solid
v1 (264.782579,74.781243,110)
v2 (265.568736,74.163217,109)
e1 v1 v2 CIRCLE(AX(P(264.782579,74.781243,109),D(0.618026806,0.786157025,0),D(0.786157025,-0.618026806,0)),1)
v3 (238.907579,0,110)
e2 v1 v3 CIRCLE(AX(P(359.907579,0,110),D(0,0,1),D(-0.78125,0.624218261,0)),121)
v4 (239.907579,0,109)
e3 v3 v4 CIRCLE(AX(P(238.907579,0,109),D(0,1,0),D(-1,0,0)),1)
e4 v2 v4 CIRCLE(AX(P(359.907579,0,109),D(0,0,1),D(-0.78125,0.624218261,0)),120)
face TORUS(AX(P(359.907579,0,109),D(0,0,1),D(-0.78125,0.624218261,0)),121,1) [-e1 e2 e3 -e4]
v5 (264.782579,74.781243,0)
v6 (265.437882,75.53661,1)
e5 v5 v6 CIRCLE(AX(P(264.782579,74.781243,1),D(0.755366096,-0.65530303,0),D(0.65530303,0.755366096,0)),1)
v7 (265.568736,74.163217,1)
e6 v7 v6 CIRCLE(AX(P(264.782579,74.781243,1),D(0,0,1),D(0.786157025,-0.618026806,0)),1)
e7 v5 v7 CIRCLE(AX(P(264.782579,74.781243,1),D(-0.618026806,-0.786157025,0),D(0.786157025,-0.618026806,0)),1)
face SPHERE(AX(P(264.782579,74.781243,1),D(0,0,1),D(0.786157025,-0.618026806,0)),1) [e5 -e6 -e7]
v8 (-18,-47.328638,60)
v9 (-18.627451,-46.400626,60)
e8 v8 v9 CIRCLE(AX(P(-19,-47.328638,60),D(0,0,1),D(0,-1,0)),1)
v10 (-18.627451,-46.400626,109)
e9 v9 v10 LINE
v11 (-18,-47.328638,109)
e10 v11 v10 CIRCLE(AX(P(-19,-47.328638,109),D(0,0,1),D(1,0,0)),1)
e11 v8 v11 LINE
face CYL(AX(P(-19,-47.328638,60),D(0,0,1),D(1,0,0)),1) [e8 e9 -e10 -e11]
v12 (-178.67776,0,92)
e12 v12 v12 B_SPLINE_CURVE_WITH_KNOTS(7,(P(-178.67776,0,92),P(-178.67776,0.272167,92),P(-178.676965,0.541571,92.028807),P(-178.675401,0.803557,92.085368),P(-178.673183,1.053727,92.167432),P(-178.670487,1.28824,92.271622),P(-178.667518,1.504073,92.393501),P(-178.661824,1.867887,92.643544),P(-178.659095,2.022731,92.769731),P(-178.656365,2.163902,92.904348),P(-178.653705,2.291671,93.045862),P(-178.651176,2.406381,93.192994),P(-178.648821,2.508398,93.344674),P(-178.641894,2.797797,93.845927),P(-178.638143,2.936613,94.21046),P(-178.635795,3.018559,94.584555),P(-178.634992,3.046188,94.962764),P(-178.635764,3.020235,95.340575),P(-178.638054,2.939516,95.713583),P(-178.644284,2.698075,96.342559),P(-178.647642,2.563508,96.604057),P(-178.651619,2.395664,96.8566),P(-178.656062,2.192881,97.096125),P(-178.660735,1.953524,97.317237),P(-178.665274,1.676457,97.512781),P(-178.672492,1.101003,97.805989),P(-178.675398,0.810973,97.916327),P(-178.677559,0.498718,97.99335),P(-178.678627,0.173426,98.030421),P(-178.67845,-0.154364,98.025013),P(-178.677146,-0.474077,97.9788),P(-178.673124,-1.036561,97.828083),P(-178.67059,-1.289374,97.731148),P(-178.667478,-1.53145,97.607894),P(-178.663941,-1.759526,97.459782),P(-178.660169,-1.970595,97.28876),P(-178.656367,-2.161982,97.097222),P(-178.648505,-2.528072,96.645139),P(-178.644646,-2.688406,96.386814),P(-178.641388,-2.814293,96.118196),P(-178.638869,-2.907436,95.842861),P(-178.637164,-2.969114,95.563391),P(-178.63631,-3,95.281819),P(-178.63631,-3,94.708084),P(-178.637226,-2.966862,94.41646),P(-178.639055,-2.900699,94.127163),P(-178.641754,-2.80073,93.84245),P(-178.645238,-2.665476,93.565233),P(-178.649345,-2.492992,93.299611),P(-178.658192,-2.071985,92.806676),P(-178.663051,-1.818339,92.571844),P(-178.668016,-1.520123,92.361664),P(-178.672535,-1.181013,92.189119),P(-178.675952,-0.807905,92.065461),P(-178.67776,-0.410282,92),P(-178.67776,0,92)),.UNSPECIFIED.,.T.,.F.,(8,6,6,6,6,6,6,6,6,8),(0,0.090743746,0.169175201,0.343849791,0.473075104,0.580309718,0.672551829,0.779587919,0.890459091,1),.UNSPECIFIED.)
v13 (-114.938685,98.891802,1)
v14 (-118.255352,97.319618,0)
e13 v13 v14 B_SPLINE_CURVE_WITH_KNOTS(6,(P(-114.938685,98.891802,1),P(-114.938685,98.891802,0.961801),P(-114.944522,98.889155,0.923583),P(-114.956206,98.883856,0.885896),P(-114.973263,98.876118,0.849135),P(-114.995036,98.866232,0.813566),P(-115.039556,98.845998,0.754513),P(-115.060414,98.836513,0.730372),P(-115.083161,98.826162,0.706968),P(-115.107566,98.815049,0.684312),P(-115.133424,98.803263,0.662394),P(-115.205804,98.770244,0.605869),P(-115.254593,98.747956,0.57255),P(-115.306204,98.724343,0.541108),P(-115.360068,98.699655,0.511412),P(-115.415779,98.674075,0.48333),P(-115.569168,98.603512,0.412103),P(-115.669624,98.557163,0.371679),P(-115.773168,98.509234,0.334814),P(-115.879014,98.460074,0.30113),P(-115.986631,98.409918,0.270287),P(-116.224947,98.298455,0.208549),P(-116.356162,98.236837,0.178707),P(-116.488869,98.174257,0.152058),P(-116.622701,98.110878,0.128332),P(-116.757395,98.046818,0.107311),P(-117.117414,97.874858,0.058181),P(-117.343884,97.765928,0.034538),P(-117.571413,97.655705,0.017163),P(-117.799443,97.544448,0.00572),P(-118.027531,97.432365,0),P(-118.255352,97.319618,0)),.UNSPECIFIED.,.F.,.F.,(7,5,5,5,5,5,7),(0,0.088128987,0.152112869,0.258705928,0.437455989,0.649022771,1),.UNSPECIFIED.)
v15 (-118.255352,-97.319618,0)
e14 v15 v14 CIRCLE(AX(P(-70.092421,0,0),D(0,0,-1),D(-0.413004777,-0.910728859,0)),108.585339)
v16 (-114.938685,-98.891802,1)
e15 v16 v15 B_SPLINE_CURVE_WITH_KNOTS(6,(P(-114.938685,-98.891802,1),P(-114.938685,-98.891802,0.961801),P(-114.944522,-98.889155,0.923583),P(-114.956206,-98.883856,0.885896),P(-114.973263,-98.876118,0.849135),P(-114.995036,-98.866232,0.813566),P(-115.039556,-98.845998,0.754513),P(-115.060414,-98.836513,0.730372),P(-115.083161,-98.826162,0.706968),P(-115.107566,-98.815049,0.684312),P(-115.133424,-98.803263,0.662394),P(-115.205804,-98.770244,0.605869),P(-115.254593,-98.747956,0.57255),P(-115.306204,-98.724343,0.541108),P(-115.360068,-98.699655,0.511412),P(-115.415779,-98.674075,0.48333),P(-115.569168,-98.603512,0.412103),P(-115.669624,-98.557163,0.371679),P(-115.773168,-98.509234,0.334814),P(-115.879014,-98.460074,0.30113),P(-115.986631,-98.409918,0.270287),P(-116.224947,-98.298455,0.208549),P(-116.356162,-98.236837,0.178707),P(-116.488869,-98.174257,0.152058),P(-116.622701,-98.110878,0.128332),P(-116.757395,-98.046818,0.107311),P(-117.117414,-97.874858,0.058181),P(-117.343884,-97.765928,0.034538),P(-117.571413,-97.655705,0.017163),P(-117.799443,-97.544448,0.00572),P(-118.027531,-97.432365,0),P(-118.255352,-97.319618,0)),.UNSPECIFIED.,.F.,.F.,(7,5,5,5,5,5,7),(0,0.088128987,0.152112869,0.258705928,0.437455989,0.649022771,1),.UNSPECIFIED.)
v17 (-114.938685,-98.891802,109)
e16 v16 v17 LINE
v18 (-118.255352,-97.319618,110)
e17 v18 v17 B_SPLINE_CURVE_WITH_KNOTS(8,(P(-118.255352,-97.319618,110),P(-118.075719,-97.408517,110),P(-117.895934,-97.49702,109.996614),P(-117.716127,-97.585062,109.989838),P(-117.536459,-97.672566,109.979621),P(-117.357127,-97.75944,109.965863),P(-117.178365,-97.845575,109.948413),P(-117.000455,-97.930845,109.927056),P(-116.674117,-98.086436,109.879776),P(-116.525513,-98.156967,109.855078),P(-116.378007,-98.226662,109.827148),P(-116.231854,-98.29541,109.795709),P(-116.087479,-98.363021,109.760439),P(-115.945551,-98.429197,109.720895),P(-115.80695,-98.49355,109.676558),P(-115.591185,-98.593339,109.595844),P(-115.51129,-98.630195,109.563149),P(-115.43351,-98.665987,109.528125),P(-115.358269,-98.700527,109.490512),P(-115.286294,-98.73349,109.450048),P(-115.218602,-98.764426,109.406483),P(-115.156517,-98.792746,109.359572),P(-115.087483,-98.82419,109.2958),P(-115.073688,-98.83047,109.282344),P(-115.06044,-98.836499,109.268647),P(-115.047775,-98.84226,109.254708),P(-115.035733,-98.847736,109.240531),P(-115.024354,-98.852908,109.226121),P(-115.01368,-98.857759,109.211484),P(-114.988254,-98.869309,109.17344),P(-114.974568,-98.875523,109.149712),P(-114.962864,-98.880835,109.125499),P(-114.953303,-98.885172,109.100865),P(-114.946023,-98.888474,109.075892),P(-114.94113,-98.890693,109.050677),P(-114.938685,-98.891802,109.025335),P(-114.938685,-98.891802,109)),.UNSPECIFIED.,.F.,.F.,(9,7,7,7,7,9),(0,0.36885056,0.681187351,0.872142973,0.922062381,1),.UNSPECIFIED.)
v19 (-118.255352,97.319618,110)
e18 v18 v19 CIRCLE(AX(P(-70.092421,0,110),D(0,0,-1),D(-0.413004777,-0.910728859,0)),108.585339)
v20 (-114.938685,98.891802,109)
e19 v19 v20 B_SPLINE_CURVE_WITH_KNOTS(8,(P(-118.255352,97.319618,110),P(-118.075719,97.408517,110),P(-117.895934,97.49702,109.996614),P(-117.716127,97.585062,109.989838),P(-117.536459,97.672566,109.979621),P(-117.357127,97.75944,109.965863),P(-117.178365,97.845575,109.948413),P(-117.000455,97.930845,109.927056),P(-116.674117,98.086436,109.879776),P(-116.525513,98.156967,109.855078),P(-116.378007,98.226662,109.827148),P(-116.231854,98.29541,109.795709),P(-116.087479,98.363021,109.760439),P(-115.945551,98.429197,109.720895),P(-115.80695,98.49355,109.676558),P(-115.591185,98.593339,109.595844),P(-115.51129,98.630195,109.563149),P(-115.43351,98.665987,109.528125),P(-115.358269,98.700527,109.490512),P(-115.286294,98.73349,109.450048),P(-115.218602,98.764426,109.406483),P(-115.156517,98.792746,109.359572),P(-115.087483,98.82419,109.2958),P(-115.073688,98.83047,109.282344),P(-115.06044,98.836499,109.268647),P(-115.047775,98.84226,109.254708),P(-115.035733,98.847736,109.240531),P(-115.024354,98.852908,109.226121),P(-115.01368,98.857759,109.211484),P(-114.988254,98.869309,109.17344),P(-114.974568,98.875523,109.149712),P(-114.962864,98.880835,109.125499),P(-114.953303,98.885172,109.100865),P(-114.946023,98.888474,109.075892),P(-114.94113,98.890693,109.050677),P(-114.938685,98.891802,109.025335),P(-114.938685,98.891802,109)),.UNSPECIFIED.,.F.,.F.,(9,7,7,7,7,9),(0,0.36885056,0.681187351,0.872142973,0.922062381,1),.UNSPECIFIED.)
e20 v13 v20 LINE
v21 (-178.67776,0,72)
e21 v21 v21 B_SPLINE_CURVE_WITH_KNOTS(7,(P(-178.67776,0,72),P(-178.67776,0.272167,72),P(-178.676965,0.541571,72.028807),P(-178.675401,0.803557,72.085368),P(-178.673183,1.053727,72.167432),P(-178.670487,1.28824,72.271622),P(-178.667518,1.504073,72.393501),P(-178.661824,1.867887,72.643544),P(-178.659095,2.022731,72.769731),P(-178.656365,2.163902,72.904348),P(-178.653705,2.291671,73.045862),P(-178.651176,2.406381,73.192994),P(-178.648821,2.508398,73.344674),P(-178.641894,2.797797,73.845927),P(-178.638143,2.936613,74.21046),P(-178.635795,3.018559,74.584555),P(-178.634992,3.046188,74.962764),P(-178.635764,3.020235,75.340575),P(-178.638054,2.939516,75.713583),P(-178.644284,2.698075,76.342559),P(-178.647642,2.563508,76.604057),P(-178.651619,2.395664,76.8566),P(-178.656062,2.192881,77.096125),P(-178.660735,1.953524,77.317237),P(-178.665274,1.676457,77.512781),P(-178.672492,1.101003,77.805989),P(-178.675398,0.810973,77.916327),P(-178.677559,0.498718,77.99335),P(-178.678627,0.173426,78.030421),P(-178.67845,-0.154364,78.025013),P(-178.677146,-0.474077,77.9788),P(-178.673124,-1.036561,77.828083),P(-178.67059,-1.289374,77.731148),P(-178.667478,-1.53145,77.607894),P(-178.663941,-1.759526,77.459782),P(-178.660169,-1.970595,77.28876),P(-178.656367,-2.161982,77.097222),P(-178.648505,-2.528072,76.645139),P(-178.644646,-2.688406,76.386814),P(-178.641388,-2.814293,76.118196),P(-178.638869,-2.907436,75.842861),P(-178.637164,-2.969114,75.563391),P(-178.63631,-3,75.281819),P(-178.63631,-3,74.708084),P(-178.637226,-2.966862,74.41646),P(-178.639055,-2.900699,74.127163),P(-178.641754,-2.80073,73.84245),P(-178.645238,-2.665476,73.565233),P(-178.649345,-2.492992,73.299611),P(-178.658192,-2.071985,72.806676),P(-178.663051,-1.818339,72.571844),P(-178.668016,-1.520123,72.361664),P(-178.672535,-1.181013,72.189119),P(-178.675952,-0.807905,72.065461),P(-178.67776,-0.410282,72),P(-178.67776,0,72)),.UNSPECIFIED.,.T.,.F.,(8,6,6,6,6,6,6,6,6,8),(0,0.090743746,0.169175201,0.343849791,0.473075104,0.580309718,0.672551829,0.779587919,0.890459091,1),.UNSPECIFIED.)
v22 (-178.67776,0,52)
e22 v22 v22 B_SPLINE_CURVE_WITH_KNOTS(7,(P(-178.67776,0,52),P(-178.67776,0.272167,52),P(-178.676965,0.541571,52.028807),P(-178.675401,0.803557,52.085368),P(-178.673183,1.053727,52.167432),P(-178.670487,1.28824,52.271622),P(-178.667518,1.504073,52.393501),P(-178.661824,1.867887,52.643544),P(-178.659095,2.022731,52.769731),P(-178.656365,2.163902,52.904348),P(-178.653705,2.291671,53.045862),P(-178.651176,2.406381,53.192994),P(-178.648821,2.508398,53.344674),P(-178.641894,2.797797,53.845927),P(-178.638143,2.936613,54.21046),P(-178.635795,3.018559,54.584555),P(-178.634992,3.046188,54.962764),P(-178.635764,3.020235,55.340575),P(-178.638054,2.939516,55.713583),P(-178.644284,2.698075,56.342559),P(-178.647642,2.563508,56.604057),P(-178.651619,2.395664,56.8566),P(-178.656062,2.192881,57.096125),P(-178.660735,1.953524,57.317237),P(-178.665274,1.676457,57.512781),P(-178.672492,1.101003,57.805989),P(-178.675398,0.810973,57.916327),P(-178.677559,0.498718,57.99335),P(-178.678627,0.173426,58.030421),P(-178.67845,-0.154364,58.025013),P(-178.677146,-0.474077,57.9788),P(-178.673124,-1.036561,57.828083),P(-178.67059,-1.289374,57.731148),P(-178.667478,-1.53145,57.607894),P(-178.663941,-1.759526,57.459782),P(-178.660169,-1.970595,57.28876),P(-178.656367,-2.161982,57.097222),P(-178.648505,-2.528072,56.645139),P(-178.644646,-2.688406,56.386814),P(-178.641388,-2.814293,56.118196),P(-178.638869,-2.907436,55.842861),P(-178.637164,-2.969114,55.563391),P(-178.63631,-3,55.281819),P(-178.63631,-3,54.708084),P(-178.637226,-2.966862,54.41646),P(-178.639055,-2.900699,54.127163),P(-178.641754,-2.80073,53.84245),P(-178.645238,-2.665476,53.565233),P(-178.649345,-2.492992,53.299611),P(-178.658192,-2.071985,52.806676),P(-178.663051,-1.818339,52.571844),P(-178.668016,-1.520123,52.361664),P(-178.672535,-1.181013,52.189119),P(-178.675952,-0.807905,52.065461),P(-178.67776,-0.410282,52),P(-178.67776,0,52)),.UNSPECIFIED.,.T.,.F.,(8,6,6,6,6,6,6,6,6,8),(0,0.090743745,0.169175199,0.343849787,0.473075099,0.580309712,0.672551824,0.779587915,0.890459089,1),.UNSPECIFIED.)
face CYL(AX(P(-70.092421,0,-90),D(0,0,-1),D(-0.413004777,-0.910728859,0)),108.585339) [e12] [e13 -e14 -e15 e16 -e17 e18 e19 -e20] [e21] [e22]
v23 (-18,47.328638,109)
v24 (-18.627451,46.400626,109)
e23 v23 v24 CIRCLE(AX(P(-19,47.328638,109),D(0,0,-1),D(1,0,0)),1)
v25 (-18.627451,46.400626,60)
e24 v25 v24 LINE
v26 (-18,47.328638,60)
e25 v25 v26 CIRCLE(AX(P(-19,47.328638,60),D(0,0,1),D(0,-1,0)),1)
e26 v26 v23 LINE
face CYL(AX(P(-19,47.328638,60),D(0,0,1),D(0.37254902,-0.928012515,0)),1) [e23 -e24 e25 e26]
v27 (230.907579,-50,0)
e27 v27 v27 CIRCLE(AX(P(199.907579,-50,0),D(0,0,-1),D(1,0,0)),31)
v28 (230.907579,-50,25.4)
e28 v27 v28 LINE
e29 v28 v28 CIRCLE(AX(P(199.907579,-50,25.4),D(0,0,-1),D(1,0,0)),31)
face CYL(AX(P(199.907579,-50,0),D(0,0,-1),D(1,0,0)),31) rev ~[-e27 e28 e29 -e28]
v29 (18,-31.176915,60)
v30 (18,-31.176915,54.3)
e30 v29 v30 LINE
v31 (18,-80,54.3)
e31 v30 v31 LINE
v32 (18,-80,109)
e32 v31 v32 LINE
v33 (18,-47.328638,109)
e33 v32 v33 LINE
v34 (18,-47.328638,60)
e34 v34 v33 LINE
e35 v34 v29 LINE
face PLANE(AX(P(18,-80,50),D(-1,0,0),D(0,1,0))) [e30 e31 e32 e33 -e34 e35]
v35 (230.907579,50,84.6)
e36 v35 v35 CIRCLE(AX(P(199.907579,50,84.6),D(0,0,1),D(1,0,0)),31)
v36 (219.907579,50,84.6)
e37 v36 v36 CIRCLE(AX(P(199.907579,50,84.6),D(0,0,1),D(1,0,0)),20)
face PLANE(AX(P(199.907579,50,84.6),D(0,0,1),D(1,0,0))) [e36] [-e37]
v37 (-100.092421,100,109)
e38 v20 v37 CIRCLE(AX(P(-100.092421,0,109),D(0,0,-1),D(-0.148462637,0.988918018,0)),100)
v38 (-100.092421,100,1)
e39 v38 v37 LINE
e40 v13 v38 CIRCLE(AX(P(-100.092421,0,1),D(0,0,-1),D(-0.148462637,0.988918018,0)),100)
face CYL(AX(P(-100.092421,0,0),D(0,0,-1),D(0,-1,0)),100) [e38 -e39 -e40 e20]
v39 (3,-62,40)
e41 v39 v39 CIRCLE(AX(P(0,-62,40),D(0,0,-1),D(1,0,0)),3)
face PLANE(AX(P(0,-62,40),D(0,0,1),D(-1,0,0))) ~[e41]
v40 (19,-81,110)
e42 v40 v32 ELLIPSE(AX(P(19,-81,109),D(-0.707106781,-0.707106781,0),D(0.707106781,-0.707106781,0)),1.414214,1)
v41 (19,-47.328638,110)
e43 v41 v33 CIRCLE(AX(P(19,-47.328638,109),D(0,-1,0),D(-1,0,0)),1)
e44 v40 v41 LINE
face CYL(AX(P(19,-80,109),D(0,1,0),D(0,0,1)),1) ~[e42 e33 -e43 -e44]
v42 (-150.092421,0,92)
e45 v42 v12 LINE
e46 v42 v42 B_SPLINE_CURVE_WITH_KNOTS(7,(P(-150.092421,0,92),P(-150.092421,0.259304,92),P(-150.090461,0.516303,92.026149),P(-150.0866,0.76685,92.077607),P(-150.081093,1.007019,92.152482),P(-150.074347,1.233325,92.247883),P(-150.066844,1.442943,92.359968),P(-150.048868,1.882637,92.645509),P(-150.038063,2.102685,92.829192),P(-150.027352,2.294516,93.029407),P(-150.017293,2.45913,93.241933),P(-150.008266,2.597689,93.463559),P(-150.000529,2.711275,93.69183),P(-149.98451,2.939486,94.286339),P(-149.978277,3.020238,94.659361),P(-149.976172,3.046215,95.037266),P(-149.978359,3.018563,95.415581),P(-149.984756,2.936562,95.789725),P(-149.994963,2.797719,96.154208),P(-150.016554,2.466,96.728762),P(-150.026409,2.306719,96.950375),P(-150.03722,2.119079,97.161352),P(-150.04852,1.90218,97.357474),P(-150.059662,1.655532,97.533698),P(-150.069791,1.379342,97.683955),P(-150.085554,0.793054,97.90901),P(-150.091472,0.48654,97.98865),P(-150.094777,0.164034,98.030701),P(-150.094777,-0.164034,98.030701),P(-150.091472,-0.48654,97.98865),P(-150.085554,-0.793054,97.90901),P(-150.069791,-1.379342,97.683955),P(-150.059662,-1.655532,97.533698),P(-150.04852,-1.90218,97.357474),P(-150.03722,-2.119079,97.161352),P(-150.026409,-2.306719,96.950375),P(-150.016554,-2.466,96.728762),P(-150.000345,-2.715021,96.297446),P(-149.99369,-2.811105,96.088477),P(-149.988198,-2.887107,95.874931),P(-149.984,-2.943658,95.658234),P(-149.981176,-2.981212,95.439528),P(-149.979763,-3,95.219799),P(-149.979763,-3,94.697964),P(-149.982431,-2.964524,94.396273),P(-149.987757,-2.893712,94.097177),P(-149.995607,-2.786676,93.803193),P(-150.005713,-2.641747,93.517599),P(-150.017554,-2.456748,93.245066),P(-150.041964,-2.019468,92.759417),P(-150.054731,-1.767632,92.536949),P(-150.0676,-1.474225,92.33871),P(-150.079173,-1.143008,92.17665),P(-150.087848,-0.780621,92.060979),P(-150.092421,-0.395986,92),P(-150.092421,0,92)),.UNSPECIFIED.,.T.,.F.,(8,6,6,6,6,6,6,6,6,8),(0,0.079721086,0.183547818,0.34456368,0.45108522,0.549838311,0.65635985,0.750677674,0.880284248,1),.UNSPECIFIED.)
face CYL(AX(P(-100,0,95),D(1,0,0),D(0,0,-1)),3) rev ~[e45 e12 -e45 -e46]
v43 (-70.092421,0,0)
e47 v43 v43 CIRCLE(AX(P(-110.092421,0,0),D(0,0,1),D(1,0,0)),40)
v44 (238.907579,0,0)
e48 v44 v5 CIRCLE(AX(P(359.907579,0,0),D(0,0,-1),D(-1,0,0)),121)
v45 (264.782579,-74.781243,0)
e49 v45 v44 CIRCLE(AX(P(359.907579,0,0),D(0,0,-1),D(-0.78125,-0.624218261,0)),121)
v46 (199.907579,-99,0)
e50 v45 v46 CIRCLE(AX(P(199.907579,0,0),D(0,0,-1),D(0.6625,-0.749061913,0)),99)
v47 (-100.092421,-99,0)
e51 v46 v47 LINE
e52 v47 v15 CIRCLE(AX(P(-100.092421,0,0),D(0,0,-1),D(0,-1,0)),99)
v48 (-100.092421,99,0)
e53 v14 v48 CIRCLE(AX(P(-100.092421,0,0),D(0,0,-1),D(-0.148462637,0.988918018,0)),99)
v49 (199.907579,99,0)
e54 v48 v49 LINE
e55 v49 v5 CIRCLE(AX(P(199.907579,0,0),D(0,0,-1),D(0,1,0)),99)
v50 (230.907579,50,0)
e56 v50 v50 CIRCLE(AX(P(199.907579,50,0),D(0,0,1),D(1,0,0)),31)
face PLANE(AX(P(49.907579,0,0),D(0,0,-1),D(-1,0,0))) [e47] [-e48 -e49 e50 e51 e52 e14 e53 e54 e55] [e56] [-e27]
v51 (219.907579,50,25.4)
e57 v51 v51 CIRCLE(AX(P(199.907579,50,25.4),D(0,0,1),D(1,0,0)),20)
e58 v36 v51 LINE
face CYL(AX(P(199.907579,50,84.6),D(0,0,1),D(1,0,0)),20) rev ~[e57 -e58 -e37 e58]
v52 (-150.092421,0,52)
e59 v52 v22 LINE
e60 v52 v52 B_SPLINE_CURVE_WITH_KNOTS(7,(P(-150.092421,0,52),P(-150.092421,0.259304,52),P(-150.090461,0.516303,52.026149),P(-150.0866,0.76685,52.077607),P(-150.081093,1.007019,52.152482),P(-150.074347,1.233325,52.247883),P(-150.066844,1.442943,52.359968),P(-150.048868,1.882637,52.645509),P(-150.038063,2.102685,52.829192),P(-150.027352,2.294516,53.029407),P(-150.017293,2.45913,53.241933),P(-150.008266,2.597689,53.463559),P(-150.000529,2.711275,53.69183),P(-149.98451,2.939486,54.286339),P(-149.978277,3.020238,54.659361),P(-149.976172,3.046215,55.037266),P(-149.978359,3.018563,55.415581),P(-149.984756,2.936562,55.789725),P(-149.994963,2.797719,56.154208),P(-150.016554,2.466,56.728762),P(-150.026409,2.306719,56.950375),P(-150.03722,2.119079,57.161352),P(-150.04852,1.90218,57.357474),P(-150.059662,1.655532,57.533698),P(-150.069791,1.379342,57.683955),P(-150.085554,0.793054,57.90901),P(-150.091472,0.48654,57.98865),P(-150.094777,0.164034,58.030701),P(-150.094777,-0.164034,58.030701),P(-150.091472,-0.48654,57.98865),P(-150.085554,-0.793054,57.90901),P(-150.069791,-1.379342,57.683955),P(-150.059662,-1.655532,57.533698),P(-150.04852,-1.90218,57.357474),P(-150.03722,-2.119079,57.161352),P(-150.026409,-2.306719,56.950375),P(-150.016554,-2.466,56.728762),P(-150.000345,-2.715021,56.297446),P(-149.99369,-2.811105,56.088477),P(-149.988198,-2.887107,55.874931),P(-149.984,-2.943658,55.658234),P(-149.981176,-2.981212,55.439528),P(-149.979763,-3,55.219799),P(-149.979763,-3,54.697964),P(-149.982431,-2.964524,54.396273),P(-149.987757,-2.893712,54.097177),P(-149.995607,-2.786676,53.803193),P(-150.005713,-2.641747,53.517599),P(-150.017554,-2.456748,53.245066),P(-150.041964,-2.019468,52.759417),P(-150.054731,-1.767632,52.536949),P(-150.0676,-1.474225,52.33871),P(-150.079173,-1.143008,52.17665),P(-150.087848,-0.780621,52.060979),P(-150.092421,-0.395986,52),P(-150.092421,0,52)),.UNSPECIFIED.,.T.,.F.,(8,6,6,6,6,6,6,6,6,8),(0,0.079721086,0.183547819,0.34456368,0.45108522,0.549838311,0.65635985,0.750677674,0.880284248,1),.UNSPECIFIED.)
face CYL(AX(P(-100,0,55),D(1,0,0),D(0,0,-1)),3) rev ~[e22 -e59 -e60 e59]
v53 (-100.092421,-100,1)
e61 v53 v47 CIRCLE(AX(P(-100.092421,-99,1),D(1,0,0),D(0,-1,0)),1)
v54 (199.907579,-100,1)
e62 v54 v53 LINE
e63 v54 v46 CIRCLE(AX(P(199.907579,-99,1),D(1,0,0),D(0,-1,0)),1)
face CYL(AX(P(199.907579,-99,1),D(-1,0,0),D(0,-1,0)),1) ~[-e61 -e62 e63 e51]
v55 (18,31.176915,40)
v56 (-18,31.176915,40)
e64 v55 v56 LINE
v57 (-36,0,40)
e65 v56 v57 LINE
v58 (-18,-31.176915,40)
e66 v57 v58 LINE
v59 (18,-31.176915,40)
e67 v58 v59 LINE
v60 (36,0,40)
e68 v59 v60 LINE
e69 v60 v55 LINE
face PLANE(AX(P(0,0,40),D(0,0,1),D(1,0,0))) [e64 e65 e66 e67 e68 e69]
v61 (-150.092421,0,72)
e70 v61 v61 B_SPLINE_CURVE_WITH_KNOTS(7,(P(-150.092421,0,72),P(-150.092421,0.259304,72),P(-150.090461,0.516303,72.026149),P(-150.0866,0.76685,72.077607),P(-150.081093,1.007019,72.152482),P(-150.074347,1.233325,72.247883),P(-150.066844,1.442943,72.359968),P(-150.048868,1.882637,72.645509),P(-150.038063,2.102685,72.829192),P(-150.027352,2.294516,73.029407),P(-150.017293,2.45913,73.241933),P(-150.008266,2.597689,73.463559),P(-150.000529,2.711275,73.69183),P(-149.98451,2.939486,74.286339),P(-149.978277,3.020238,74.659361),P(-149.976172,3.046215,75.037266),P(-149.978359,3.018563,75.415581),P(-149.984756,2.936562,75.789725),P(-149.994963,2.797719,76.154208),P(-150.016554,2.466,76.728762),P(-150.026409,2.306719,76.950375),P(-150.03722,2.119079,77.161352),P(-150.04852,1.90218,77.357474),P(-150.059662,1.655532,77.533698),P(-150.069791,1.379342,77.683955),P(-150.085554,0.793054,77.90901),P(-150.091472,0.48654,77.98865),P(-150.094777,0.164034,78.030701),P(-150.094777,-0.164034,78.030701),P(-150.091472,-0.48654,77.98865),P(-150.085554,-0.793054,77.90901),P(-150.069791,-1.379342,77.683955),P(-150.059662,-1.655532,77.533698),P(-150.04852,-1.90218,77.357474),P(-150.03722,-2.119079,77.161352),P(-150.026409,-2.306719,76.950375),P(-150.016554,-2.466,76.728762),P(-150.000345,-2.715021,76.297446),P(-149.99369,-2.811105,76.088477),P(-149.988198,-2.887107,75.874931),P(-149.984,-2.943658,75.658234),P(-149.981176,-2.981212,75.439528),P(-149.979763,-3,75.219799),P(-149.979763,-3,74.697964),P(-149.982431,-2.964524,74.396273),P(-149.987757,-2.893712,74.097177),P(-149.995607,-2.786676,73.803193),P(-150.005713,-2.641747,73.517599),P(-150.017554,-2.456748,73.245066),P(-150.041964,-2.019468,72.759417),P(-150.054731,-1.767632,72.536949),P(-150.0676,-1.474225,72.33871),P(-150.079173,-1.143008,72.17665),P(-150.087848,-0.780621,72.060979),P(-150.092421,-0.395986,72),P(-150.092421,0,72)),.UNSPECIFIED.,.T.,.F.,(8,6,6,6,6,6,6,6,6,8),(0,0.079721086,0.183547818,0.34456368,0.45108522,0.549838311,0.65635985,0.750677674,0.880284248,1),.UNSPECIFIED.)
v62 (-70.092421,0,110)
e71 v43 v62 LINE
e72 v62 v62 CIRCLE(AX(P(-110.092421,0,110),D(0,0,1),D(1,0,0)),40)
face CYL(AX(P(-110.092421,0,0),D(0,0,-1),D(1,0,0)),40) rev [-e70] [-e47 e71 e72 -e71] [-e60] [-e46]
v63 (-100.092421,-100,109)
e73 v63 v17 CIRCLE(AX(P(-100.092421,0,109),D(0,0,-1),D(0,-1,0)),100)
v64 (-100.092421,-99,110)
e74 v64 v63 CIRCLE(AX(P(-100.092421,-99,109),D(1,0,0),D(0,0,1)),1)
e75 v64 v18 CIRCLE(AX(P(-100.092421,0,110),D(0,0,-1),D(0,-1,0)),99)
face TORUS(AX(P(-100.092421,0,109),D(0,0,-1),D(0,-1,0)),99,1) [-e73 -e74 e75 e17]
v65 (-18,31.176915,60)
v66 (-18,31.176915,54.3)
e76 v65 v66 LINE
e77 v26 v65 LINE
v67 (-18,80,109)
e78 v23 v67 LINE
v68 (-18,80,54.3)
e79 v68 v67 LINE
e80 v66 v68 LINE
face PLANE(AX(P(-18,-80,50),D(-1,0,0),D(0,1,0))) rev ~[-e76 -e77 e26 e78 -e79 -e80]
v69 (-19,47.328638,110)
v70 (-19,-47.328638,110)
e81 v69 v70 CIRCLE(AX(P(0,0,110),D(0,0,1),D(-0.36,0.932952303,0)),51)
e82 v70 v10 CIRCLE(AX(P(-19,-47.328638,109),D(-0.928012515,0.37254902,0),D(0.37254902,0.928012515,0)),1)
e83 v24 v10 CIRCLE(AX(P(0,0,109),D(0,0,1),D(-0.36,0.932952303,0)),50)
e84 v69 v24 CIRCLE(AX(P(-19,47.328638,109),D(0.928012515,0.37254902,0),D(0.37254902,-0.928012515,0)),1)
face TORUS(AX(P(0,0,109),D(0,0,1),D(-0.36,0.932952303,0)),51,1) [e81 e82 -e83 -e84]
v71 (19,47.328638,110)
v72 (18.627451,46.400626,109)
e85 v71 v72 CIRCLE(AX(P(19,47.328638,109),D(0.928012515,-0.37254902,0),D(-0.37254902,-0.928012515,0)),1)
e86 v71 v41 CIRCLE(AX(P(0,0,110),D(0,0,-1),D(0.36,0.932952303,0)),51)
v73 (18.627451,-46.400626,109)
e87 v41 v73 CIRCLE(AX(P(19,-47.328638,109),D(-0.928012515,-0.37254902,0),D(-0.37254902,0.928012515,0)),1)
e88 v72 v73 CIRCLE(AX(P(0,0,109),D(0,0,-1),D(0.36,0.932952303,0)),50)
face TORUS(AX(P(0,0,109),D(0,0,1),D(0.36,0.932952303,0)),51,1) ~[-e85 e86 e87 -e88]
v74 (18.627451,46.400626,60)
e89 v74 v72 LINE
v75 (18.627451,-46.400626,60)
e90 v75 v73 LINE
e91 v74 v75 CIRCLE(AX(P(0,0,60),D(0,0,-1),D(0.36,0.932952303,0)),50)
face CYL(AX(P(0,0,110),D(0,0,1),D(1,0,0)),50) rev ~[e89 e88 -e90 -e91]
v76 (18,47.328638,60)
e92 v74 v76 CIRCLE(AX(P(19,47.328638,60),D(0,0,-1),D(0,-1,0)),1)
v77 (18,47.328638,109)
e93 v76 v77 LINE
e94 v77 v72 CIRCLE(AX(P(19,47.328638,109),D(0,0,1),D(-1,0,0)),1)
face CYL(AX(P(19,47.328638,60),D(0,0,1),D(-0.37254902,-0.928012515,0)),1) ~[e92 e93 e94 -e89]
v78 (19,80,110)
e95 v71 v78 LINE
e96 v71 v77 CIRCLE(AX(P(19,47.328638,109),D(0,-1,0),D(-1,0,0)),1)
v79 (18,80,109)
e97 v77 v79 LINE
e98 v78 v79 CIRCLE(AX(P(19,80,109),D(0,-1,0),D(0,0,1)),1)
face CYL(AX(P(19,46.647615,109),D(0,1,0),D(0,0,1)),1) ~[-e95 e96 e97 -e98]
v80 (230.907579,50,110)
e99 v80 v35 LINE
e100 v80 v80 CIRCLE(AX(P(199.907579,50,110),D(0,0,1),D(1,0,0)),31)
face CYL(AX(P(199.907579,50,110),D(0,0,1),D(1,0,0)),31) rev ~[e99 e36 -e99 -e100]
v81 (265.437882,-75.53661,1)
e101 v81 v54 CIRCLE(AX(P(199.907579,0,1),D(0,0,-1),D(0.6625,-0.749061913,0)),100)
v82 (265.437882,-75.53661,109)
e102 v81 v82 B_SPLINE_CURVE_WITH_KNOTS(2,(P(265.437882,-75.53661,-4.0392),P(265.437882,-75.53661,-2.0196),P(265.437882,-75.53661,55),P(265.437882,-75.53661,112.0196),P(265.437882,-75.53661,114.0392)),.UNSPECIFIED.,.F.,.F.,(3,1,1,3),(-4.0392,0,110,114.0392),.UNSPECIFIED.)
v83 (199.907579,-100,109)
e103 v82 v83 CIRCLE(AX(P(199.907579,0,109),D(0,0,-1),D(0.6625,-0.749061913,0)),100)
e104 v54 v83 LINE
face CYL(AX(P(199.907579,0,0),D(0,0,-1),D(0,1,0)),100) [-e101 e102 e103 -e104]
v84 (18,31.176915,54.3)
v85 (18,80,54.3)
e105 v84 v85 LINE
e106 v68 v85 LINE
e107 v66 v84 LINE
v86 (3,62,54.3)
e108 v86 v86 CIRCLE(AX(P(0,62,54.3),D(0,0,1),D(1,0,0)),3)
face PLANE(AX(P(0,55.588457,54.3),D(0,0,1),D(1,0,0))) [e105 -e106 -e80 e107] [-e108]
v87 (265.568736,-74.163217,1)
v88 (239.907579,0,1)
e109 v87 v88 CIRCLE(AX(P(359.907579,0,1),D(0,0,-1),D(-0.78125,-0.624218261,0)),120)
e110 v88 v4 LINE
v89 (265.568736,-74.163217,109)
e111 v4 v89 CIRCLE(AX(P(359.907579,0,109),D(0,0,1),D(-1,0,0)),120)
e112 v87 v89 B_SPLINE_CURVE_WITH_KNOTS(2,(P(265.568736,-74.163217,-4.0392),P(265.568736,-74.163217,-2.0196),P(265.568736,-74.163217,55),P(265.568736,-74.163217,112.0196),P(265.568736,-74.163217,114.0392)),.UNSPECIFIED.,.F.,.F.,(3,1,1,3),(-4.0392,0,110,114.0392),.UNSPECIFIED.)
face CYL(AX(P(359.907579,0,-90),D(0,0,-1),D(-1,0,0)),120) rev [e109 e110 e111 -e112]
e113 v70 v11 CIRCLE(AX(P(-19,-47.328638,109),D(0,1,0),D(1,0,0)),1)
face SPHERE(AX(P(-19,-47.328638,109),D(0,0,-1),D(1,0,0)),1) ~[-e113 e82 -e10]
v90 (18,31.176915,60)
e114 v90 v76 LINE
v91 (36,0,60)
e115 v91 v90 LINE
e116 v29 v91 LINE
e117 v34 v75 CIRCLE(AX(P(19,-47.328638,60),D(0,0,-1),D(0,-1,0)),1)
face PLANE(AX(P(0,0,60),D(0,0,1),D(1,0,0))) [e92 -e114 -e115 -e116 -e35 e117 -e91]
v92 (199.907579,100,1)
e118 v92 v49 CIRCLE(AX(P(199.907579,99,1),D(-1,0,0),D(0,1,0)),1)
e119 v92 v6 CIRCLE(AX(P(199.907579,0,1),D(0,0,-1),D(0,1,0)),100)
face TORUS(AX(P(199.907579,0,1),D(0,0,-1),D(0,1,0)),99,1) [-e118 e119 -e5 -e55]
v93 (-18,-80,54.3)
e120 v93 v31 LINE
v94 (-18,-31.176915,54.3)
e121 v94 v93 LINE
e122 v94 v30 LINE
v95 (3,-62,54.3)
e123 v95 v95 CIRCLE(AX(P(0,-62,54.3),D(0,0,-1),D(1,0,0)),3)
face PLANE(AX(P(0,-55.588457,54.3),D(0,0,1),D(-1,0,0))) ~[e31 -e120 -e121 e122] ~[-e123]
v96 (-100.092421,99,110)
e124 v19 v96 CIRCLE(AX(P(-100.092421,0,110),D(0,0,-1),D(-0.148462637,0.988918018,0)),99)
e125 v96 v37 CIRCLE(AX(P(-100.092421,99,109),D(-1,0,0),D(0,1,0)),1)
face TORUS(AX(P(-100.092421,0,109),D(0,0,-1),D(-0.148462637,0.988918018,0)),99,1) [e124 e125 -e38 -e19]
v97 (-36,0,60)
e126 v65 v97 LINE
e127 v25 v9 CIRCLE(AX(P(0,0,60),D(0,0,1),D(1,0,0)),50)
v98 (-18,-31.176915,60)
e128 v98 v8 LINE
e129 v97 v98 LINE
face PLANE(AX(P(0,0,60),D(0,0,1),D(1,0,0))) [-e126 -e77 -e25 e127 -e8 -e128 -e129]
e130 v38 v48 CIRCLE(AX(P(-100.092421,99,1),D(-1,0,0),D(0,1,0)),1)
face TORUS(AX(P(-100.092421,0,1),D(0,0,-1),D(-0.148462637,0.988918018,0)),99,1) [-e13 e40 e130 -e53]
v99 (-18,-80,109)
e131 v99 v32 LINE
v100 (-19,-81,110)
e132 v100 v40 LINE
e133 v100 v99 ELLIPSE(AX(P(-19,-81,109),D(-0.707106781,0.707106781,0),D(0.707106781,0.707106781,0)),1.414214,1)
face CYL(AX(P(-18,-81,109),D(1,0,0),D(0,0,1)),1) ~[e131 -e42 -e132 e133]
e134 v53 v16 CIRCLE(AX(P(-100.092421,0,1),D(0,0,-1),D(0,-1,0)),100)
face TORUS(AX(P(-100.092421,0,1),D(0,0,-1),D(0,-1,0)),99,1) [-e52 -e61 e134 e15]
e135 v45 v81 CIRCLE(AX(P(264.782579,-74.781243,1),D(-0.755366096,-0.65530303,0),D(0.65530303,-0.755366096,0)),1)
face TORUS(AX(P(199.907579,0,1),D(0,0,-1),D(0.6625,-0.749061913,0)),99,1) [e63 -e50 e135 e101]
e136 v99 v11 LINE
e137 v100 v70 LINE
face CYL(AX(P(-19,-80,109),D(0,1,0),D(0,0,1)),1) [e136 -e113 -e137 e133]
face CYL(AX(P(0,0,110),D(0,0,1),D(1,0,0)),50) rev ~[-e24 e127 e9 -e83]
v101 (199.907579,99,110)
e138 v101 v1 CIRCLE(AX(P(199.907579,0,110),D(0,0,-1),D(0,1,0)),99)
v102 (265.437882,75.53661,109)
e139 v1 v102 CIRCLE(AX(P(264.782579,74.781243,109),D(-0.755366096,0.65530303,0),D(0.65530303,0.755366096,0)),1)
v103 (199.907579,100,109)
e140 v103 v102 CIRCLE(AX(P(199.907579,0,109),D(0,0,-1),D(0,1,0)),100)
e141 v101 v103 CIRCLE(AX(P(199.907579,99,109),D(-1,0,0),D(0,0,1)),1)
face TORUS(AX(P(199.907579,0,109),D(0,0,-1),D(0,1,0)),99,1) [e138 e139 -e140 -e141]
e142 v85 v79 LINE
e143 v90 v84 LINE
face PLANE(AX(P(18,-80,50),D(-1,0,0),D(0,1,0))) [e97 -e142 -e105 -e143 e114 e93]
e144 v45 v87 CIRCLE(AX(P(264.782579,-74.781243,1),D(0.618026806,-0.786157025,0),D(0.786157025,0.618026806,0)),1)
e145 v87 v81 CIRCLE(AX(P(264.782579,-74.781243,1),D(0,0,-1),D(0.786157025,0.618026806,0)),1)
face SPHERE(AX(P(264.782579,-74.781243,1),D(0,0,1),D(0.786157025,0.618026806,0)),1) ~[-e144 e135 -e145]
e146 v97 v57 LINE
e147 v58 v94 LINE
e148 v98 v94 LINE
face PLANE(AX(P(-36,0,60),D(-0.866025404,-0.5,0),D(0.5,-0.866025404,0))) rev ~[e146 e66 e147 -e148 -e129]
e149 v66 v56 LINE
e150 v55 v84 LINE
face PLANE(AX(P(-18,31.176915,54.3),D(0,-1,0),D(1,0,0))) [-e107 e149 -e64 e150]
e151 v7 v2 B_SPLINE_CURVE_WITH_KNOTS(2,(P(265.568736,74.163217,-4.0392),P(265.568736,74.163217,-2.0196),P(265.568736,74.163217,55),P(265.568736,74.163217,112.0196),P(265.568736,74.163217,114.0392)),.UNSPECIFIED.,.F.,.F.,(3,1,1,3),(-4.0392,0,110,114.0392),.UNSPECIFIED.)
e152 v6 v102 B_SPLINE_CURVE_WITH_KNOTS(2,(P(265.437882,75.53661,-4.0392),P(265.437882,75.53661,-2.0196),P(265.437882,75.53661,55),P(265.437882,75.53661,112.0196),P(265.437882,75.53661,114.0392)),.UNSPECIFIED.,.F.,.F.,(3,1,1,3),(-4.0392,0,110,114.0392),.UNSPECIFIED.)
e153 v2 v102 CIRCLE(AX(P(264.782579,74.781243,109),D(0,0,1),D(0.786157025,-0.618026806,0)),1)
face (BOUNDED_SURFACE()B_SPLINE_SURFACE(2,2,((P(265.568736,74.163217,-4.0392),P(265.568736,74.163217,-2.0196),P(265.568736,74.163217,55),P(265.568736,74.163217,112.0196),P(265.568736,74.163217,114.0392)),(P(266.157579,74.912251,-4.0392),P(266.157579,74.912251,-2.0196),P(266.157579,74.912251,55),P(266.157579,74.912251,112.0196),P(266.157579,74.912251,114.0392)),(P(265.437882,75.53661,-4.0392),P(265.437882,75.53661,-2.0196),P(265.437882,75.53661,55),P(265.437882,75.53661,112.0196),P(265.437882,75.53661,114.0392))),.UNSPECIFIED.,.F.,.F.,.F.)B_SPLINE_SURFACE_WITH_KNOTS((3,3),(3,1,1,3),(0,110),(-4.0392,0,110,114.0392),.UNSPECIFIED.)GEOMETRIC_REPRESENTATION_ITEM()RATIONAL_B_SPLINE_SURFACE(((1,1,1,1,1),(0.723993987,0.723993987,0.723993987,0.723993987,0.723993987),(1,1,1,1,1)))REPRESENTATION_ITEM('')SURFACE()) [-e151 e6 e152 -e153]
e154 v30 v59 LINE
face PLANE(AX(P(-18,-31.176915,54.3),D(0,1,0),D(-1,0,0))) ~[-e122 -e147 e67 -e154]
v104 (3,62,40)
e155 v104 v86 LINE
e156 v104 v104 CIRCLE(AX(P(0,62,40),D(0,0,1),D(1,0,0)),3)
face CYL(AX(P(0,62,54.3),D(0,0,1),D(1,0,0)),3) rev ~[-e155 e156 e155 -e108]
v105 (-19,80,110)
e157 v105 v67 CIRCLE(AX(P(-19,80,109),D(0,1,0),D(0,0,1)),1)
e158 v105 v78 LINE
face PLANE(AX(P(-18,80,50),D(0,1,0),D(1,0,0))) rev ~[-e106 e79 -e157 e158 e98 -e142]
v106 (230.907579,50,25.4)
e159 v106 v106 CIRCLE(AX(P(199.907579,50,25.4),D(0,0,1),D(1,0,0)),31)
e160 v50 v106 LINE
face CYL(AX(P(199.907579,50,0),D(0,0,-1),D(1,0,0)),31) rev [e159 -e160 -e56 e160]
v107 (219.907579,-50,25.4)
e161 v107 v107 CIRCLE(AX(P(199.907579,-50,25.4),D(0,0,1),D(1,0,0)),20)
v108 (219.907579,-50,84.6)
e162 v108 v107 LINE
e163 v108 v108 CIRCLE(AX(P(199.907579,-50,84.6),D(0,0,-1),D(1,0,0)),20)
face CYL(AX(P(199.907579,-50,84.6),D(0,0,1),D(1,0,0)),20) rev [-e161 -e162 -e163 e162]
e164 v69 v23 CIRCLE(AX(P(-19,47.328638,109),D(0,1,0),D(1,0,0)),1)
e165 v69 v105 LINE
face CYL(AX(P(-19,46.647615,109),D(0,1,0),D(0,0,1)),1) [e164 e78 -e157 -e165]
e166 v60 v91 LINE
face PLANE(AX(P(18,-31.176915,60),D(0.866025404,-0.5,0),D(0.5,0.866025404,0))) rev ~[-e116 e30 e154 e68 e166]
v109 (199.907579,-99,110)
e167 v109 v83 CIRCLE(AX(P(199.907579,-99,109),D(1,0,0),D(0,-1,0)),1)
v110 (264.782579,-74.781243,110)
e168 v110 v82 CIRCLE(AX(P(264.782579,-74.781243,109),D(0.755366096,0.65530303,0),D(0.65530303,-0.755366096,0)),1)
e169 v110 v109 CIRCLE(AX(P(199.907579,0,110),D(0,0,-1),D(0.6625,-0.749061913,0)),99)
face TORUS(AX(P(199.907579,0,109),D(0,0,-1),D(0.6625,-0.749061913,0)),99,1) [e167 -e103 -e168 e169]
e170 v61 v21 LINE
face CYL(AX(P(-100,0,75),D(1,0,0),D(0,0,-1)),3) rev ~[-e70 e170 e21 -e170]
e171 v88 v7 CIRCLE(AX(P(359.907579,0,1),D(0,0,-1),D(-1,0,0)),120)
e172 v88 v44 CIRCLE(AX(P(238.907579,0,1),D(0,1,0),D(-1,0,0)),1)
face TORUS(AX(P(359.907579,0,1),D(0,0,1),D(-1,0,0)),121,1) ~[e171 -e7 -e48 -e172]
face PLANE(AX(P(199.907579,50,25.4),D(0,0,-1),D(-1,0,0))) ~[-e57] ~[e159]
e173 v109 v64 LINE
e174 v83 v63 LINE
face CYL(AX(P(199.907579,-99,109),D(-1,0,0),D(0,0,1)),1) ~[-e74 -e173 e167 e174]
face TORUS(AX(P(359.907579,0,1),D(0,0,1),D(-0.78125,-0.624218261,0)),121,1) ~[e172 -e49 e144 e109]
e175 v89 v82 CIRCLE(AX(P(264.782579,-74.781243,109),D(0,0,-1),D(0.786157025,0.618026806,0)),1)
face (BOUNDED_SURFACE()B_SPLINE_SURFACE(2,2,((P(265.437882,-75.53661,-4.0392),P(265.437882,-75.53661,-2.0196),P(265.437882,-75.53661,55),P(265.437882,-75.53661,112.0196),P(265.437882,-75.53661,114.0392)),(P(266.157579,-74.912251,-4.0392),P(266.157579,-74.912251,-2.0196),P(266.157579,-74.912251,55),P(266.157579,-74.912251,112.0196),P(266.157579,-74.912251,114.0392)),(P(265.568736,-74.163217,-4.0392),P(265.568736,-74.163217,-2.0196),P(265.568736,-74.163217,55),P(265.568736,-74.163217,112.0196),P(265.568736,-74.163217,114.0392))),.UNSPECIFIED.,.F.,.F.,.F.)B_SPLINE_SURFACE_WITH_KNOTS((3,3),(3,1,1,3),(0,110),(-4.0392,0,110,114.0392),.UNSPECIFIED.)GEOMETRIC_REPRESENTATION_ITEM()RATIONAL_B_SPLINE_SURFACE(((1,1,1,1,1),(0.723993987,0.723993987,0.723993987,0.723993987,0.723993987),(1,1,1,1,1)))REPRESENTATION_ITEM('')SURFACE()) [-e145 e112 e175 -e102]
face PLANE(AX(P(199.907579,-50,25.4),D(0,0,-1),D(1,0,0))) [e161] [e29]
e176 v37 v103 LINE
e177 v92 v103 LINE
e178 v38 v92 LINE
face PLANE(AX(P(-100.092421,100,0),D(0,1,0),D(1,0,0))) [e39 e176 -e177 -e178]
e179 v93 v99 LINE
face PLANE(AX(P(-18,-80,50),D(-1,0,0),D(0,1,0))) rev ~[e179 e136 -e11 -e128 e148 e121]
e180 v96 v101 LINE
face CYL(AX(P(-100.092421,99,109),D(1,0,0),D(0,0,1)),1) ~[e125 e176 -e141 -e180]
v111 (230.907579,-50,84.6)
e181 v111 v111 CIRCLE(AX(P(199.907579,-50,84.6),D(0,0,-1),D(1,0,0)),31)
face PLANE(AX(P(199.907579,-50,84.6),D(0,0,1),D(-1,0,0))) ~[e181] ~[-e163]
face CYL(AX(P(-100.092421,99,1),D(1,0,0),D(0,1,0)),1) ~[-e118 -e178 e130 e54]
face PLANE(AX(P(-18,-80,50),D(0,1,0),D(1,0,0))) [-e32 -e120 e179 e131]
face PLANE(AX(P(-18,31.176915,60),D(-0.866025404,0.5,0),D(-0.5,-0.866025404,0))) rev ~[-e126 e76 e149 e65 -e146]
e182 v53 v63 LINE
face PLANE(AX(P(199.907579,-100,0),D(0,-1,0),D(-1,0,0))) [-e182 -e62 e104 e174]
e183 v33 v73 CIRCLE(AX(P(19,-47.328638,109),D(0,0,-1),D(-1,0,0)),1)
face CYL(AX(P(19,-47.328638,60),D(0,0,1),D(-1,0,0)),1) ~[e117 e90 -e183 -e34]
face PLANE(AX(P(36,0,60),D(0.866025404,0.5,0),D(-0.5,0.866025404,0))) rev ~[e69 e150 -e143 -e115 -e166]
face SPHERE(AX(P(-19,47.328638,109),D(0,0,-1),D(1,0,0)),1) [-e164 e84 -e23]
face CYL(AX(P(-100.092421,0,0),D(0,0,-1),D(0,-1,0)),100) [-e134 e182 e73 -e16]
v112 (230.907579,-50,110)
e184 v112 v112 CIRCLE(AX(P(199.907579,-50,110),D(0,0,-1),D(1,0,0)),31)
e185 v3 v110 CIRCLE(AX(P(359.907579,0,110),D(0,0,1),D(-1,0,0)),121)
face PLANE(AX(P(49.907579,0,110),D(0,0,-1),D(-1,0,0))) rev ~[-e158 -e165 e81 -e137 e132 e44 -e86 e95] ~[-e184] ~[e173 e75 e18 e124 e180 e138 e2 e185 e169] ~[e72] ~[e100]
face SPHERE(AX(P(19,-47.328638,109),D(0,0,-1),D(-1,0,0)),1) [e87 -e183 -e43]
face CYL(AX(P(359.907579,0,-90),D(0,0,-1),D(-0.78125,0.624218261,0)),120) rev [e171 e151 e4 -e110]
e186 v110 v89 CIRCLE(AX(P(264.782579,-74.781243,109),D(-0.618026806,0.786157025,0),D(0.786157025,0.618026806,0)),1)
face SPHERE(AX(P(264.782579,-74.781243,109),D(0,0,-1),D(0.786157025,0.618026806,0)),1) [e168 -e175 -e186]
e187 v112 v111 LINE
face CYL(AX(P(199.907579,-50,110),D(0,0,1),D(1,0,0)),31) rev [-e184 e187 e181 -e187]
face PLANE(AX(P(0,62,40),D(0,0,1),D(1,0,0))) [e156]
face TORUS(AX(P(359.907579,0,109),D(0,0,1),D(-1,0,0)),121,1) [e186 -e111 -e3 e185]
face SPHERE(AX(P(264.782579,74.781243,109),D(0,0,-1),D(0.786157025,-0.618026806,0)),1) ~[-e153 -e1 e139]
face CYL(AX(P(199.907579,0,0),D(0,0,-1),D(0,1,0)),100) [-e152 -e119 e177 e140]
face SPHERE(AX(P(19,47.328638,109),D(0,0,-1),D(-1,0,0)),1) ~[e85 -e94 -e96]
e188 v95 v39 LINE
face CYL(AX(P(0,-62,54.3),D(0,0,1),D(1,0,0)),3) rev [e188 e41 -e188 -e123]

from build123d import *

# Parameters (mm, degrees)
SKETCH_1_R                                   = 40
EXTRUDE_1_DEPTH                              = 110
SKETCH_2_R                                   = 3
CUT_EXTRUDE_2_DEPTH                          = 150
SKETCH_3_R                                   = 50
CUT_EXTRUDE_3_DEPTH                          = 50
CUT_EXTRUDE_4_DEPTH                          = 10
SKETCH_5_W                                   = 36
SKETCH_5_H                                   = 160
CUT_EXTRUDE_7_DEPTH                          = 122
CUT_EXTRUDE_8_DEPTH                          = 10
SKETCH_7_R                                   = 3
CUT_EXTRUDE_9_DEPTH                          = 10
CUT_EXTRUDE_12_DEPTH                         = 200
SKETCH_9_R                                   = 31
SKETCH_9_R_2                                 = 12.5
CUT_EXTRUDE_13_DEPTH                         = 25.4
MIRROR_3_AT_THE_SECOND_PLANE_COPY_1_DEPTH    = 200
MIRROR_3_AT_THE_SECOND_PLANE_COPY_2_SKET_R   = 31
MIRROR_3_AT_THE_SECOND_PLANE_COPY_2_SKET_R_2 = 12.5
MIRROR_3_AT_THE_SECOND_PLANE_COPY_2_DEPTH    = 25.4
EXTRUDE_START                                = 4.3
EXTRUDE_2_DEPTH                              = 4.3
SKETCH_11_W                                  = 36
SKETCH_11_H                                  = 48.823085464
SKETCH_11_R                                  = 3
EXTRUDE_3_DEPTH                              = 4.3
CUT_EXTRUDE_START                            = -200
CUT_EXTRUDE_14_DEPTH                         = 200
SKETCH_13_R                                  = 20
CUT_EXTRUDE_15_DEPTH                         = 200
CUT_EXTRUDE_16_DEPTH                         = 200
FILLET_1_R                                   = 1
FILLET_2_R                                   = 1


with BuildPart() as part:
    # 草图1 → 凸台-拉伸1 (new body)
    with BuildSketch(Plane.XY):
        with BuildLine():
            Line((-100.092421442, 100), (199.907578558, 100))
            ThreePointArc((199.907578558, 100), (299.907578558, 0), (199.907578558, -100))
            Line((199.907578558, -100), (-100.092421442, -100))
            ThreePointArc((-100.092421442, -100), (-200.092421442, 0), (-100.092421442, 100))
        make_face()
        with Locations((-110.092421442, 0)):
            Circle(SKETCH_1_R, mode=Mode.SUBTRACT)
    extrude(amount=EXTRUDE_1_DEPTH)

    # 草图2 → 切除-拉伸2 (cut)
    with BuildSketch(Plane(origin=(-100, 0, 0), x_dir=(0, 0, -1), z_dir=(1, 0, 0))):
        with Locations((-95, 0)):
            Circle(SKETCH_2_R)
        with Locations((-75, 0)):
            Circle(SKETCH_2_R)
        with Locations((-55, 0)):
            Circle(SKETCH_2_R)
    extrude(amount=-CUT_EXTRUDE_2_DEPTH, mode=Mode.SUBTRACT)

    # 草图3 → 切除-拉伸3 (cut)
    with BuildSketch(Plane.XY.offset(110)):
        Circle(SKETCH_3_R)
    extrude(amount=-CUT_EXTRUDE_3_DEPTH, mode=Mode.SUBTRACT)

    # 草图4 → 切除-拉伸4 (cut)
    with BuildSketch(Plane.XY.offset(60)):
        Polygon((36, 0), (18, 31.176914536), (-18, 31.176914536), (-36, 0), (-18, -31.176914536), (18, -31.176914536), align=None)
    extrude(amount=-CUT_EXTRUDE_4_DEPTH, mode=Mode.SUBTRACT)

    # 草图5 → 切除-拉伸7 (cut)
    with BuildSketch(Plane.XY.offset(50)):
        Rectangle(SKETCH_5_W, SKETCH_5_H)
    extrude(amount=CUT_EXTRUDE_7_DEPTH, mode=Mode.SUBTRACT)

    # 草图6 → 切除-拉伸8 (cut)
    with BuildSketch(Plane.XY.offset(50)):
        Polygon((36, 0), (18, 31.176914536), (-18, 31.176914536), (-36, 0), (-18, -31.176914536), (18, -31.176914536), align=None)
    extrude(amount=-CUT_EXTRUDE_8_DEPTH, mode=Mode.SUBTRACT)

    # 草图7 → 切除-拉伸9 (cut)
    with BuildSketch(Plane.XY.offset(50)):
        with Locations((0, 62)):
            Circle(SKETCH_7_R)
    cut_extrude_9 = extrude(amount=-CUT_EXTRUDE_9_DEPTH, mode=Mode.SUBTRACT)

    # 镜向1: 切除-拉伸9 across plane
    add(cut_extrude_9.mirror(Plane.ZX), mode=Mode.SUBTRACT)

    # 草图8 → 切除-拉伸12 (cut)
    with BuildSketch(Plane.XY.offset(110)):
        with BuildLine():
            ThreePointArc((212.407578558, 50), (208.746413323, 58.838834765), (199.907578558, 62.5))
            Line((199.907578558, 62.5), (199.907578558, 37.5))
            ThreePointArc((199.907578558, 37.5), (208.746413323, 41.161165235), (212.407578558, 50))
        make_face()
        with BuildLine():
            Line((199.907578558, 37.5), (199.907578558, 62.5))
            ThreePointArc((199.907578558, 62.5), (187.407578558, 50), (199.907578558, 37.5))
        make_face()
    cut_extrude_12 = extrude(amount=-CUT_EXTRUDE_12_DEPTH, mode=Mode.SUBTRACT)

    # 草图9 → 切除-拉伸13 (cut)
    with BuildSketch(Plane.XY.offset(110)):
        with Locations((199.907578558, 50)):
            Circle(SKETCH_9_R)
        with Locations((199.907578558, 50)):
            Circle(SKETCH_9_R_2, mode=Mode.SUBTRACT)
    cut_extrude_13 = extrude(amount=-CUT_EXTRUDE_13_DEPTH, mode=Mode.SUBTRACT)

    # 镜向3: 切除-拉伸12, 切除-拉伸13 across plane
    add(cut_extrude_12.mirror(Plane.ZX), mode=Mode.SUBTRACT)
    add(cut_extrude_13.mirror(Plane.ZX), mode=Mode.SUBTRACT)

    # 镜向3 at the second plane: 切除-拉伸12, 切除-拉伸13 across plane
    add(cut_extrude_12.mirror(Plane.XY.offset(55)), mode=Mode.SUBTRACT)
    add(cut_extrude_13.mirror(Plane.XY.offset(55)), mode=Mode.SUBTRACT)

    # 镜向3 at the second plane copy 1 sket → 镜向3 at the second plane copy 1 (cut)
    with BuildSketch(Plane(origin=(0, 0, 0), x_dir=(1, 0, 0), z_dir=(0, 0, -1))):
        with BuildLine():
            ThreePointArc((212.407578558, 50), (208.746413323, 58.838834765), (199.907578558, 62.5))
            Line((199.907578558, 62.5), (199.907578558, 37.5))
            ThreePointArc((199.907578558, 37.5), (208.746413323, 41.161165235), (212.407578558, 50))
        make_face()
        with BuildLine():
            Line((199.907578558, 37.5), (199.907578558, 62.5))
            ThreePointArc((199.907578558, 62.5), (187.407578558, 50), (199.907578558, 37.5))
        make_face()
    extrude(amount=-MIRROR_3_AT_THE_SECOND_PLANE_COPY_1_DEPTH, mode=Mode.SUBTRACT)

    # 镜向3 at the second plane copy 2 sket → 镜向3 at the second plane copy 2 (cut)
    with BuildSketch(Plane(origin=(0, 0, 0), x_dir=(1, 0, 0), z_dir=(0, 0, -1))):
        with Locations((199.907578558, 50)):
            Circle(MIRROR_3_AT_THE_SECOND_PLANE_COPY_2_SKET_R)
        with Locations((199.907578558, 50)):
            Circle(MIRROR_3_AT_THE_SECOND_PLANE_COPY_2_SKET_R_2, mode=Mode.SUBTRACT)
    extrude(amount=-MIRROR_3_AT_THE_SECOND_PLANE_COPY_2_DEPTH, mode=Mode.SUBTRACT)

    # 草图10 → 凸台-拉伸2 (add)
    with BuildSketch(Plane.XY.offset(40).offset(EXTRUDE_START)):
        with BuildLine():
            ThreePointArc((18, 31.176914536), (31.176914536, 18), (36, 0))
            ThreePointArc((36, 0), (31.176914536, -18), (18, -31.176914536))
            Line((18, -31.176914536), (18, -46.647615159))
            ThreePointArc((18, -46.647615159), (41.231056256, -28.284271247), (50, 0))
            ThreePointArc((50, 0), (41.231056256, 28.284271247), (18, 46.647615159))
            Line((18, 46.647615159), (18, 31.176914536))
        make_face()
        with BuildLine():
            ThreePointArc((-36, 0), (-31.176914536, 18), (-18, 31.176914536))
            Line((-18, 31.176914536), (-18, 46.647615159))
            ThreePointArc((-18, 46.647615159), (-50, 0), (-18, -46.647615159))
            Line((-18, -46.647615159), (-18, -31.176914536))
            ThreePointArc((-18, -31.176914536), (-31.176914536, -18), (-36, 0))
        make_face()
        with BuildLine():
            Line((18, 31.176914536), (36, 0))
            ThreePointArc((36, 0), (31.176914536, 18), (18, 31.176914536))
        make_face()
        with BuildLine():
            ThreePointArc((18, -31.176914536), (31.176914536, -18), (36, 0))
            Line((36, 0), (18, -31.176914536))
        make_face()
        with BuildLine():
            ThreePointArc((-36, 0), (-31.176914536, -18), (-18, -31.176914536))
            Line((-18, -31.176914536), (-36, 0))
        make_face()
        with BuildLine():
            Line((-36, 0), (-18, 31.176914536))
            ThreePointArc((-18, 31.176914536), (-31.176914536, 18), (-36, 0))
        make_face()
    extrude(amount=-EXTRUDE_2_DEPTH)

    # 草图11 → 凸台-拉伸3 (add)
    with BuildSketch(Plane.XY.offset(50).offset(EXTRUDE_START)):
        with Locations((0, 55.588457268)):
            Rectangle(SKETCH_11_W, SKETCH_11_H)
        with Locations((0, 62)):
            Circle(SKETCH_11_R, mode=Mode.SUBTRACT)
    extrude_3 = extrude(amount=-EXTRUDE_3_DEPTH)

    # 镜向4: 凸台-拉伸3 across plane
    add(extrude_3.mirror(Plane.ZX))

    # 草图12 → 切除-拉伸14 (cut)
    with BuildSketch(Plane.XY.offset(110).offset(CUT_EXTRUDE_START)):
        with BuildLine():
            ThreePointArc((299.907578558, 0), (291.080491202, 41.079191813), (266.157578558, 74.906191333))
            ThreePointArc((266.157578558, 74.906191333), (246.660062029, 39.686269666), (239.907578558, 0))
            Line((239.907578558, 0), (299.907578558, 0))
        make_face()
        with BuildLine():
            ThreePointArc((479.907578558, 0), (399.593848224, 113.247516529), (266.157578558, 74.906191333))
            ThreePointArc((266.157578558, 74.906191333), (291.080491202, 41.079191813), (299.907578558, 0))
            ThreePointArc((299.907578558, 0), (291.080491202, -41.079191813), (266.157578558, -74.906191333))
            ThreePointArc((266.157578558, -74.906191333), (399.593848224, -113.247516529), (479.907578558, 0))
        make_face()
        with BuildLine():
            Line((299.907578558, 0), (239.907578558, 0))
            ThreePointArc((239.907578558, 0), (246.660062029, -39.686269666), (266.157578558, -74.906191333))
            ThreePointArc((266.157578558, -74.906191333), (291.080491202, -41.079191813), (299.907578558, 0))
        make_face()
    extrude(amount=CUT_EXTRUDE_14_DEPTH, mode=Mode.SUBTRACT)

    # 草图13 → 切除-拉伸15 (cut)
    with BuildSketch(Plane.XY.offset(84.6)):
        with Locations((199.907578558, 50)):
            Circle(SKETCH_13_R)
    cut_extrude_15 = extrude(amount=-CUT_EXTRUDE_15_DEPTH, mode=Mode.SUBTRACT)

    # 镜向5: 切除-拉伸15 across plane
    add(cut_extrude_15.mirror(Plane.ZX), mode=Mode.SUBTRACT)

    # 草图14 → 切除-拉伸16 (cut)
    with BuildSketch(Plane.XY.offset(110).offset(CUT_EXTRUDE_START)):
        with BuildLine():
            ThreePointArc((-114.938685096, -98.891801761), (-178.67776032, 0), (-114.938685096, 98.891801761))
            ThreePointArc((-114.938685096, 98.891801761), (-200.092421442, 0), (-114.938685096, -98.891801761))
        make_face()
    extrude(amount=CUT_EXTRUDE_16_DEPTH, mode=Mode.SUBTRACT)

    # 圆角1
    fillet_1_edges = [part.edges().sort_by_distance(p)[0] for p in [
        (235.329188253, -93.516359888, 110),
        (49.907578558, 100, 110),
        (235.329188253, 93.516359888, 0),
        (235.329188253, 93.516359888, 110),
        (266.157578558, 74.906191333, 55),
        (266.157578558, -74.906191333, 55),
        (239.907578558, 0, 0),
        (239.907578558, 0, 110),
        (-107.536204885, -99.722565591, 0),
        (-107.536204885, -99.722565591, 110),
        (-107.536204885, 99.722565591, 110),
        (49.907578558, 100, 0),
        (235.329188253, -93.516359888, 0),
        (49.907578558, -100, 0),
        (-107.536204885, 99.722565591, 0),
        (49.907578558, -100, 110),
    ]]
    fillet(fillet_1_edges, radius=FILLET_1_R)

    # 圆角2
    fillet_2_edges = [part.edges().sort_by_distance(p)[0] for p in [
        (-50, 0, 110),
        (50, 0, 110),
        (0, -80, 110),
        (-18, 46.647615159, 85),
        (-18, -46.647615159, 85),
        (-18, -63.323807579, 110),
        (18, -46.647615159, 85),
        (18, 46.647615159, 85),
        (18, -63.323807579, 110),
        (-18, 63.323807579, 110),
        (18, 63.323807579, 110),
    ]]
    fillet(fillet_2_edges, radius=FILLET_2_R)


solid = part.part
